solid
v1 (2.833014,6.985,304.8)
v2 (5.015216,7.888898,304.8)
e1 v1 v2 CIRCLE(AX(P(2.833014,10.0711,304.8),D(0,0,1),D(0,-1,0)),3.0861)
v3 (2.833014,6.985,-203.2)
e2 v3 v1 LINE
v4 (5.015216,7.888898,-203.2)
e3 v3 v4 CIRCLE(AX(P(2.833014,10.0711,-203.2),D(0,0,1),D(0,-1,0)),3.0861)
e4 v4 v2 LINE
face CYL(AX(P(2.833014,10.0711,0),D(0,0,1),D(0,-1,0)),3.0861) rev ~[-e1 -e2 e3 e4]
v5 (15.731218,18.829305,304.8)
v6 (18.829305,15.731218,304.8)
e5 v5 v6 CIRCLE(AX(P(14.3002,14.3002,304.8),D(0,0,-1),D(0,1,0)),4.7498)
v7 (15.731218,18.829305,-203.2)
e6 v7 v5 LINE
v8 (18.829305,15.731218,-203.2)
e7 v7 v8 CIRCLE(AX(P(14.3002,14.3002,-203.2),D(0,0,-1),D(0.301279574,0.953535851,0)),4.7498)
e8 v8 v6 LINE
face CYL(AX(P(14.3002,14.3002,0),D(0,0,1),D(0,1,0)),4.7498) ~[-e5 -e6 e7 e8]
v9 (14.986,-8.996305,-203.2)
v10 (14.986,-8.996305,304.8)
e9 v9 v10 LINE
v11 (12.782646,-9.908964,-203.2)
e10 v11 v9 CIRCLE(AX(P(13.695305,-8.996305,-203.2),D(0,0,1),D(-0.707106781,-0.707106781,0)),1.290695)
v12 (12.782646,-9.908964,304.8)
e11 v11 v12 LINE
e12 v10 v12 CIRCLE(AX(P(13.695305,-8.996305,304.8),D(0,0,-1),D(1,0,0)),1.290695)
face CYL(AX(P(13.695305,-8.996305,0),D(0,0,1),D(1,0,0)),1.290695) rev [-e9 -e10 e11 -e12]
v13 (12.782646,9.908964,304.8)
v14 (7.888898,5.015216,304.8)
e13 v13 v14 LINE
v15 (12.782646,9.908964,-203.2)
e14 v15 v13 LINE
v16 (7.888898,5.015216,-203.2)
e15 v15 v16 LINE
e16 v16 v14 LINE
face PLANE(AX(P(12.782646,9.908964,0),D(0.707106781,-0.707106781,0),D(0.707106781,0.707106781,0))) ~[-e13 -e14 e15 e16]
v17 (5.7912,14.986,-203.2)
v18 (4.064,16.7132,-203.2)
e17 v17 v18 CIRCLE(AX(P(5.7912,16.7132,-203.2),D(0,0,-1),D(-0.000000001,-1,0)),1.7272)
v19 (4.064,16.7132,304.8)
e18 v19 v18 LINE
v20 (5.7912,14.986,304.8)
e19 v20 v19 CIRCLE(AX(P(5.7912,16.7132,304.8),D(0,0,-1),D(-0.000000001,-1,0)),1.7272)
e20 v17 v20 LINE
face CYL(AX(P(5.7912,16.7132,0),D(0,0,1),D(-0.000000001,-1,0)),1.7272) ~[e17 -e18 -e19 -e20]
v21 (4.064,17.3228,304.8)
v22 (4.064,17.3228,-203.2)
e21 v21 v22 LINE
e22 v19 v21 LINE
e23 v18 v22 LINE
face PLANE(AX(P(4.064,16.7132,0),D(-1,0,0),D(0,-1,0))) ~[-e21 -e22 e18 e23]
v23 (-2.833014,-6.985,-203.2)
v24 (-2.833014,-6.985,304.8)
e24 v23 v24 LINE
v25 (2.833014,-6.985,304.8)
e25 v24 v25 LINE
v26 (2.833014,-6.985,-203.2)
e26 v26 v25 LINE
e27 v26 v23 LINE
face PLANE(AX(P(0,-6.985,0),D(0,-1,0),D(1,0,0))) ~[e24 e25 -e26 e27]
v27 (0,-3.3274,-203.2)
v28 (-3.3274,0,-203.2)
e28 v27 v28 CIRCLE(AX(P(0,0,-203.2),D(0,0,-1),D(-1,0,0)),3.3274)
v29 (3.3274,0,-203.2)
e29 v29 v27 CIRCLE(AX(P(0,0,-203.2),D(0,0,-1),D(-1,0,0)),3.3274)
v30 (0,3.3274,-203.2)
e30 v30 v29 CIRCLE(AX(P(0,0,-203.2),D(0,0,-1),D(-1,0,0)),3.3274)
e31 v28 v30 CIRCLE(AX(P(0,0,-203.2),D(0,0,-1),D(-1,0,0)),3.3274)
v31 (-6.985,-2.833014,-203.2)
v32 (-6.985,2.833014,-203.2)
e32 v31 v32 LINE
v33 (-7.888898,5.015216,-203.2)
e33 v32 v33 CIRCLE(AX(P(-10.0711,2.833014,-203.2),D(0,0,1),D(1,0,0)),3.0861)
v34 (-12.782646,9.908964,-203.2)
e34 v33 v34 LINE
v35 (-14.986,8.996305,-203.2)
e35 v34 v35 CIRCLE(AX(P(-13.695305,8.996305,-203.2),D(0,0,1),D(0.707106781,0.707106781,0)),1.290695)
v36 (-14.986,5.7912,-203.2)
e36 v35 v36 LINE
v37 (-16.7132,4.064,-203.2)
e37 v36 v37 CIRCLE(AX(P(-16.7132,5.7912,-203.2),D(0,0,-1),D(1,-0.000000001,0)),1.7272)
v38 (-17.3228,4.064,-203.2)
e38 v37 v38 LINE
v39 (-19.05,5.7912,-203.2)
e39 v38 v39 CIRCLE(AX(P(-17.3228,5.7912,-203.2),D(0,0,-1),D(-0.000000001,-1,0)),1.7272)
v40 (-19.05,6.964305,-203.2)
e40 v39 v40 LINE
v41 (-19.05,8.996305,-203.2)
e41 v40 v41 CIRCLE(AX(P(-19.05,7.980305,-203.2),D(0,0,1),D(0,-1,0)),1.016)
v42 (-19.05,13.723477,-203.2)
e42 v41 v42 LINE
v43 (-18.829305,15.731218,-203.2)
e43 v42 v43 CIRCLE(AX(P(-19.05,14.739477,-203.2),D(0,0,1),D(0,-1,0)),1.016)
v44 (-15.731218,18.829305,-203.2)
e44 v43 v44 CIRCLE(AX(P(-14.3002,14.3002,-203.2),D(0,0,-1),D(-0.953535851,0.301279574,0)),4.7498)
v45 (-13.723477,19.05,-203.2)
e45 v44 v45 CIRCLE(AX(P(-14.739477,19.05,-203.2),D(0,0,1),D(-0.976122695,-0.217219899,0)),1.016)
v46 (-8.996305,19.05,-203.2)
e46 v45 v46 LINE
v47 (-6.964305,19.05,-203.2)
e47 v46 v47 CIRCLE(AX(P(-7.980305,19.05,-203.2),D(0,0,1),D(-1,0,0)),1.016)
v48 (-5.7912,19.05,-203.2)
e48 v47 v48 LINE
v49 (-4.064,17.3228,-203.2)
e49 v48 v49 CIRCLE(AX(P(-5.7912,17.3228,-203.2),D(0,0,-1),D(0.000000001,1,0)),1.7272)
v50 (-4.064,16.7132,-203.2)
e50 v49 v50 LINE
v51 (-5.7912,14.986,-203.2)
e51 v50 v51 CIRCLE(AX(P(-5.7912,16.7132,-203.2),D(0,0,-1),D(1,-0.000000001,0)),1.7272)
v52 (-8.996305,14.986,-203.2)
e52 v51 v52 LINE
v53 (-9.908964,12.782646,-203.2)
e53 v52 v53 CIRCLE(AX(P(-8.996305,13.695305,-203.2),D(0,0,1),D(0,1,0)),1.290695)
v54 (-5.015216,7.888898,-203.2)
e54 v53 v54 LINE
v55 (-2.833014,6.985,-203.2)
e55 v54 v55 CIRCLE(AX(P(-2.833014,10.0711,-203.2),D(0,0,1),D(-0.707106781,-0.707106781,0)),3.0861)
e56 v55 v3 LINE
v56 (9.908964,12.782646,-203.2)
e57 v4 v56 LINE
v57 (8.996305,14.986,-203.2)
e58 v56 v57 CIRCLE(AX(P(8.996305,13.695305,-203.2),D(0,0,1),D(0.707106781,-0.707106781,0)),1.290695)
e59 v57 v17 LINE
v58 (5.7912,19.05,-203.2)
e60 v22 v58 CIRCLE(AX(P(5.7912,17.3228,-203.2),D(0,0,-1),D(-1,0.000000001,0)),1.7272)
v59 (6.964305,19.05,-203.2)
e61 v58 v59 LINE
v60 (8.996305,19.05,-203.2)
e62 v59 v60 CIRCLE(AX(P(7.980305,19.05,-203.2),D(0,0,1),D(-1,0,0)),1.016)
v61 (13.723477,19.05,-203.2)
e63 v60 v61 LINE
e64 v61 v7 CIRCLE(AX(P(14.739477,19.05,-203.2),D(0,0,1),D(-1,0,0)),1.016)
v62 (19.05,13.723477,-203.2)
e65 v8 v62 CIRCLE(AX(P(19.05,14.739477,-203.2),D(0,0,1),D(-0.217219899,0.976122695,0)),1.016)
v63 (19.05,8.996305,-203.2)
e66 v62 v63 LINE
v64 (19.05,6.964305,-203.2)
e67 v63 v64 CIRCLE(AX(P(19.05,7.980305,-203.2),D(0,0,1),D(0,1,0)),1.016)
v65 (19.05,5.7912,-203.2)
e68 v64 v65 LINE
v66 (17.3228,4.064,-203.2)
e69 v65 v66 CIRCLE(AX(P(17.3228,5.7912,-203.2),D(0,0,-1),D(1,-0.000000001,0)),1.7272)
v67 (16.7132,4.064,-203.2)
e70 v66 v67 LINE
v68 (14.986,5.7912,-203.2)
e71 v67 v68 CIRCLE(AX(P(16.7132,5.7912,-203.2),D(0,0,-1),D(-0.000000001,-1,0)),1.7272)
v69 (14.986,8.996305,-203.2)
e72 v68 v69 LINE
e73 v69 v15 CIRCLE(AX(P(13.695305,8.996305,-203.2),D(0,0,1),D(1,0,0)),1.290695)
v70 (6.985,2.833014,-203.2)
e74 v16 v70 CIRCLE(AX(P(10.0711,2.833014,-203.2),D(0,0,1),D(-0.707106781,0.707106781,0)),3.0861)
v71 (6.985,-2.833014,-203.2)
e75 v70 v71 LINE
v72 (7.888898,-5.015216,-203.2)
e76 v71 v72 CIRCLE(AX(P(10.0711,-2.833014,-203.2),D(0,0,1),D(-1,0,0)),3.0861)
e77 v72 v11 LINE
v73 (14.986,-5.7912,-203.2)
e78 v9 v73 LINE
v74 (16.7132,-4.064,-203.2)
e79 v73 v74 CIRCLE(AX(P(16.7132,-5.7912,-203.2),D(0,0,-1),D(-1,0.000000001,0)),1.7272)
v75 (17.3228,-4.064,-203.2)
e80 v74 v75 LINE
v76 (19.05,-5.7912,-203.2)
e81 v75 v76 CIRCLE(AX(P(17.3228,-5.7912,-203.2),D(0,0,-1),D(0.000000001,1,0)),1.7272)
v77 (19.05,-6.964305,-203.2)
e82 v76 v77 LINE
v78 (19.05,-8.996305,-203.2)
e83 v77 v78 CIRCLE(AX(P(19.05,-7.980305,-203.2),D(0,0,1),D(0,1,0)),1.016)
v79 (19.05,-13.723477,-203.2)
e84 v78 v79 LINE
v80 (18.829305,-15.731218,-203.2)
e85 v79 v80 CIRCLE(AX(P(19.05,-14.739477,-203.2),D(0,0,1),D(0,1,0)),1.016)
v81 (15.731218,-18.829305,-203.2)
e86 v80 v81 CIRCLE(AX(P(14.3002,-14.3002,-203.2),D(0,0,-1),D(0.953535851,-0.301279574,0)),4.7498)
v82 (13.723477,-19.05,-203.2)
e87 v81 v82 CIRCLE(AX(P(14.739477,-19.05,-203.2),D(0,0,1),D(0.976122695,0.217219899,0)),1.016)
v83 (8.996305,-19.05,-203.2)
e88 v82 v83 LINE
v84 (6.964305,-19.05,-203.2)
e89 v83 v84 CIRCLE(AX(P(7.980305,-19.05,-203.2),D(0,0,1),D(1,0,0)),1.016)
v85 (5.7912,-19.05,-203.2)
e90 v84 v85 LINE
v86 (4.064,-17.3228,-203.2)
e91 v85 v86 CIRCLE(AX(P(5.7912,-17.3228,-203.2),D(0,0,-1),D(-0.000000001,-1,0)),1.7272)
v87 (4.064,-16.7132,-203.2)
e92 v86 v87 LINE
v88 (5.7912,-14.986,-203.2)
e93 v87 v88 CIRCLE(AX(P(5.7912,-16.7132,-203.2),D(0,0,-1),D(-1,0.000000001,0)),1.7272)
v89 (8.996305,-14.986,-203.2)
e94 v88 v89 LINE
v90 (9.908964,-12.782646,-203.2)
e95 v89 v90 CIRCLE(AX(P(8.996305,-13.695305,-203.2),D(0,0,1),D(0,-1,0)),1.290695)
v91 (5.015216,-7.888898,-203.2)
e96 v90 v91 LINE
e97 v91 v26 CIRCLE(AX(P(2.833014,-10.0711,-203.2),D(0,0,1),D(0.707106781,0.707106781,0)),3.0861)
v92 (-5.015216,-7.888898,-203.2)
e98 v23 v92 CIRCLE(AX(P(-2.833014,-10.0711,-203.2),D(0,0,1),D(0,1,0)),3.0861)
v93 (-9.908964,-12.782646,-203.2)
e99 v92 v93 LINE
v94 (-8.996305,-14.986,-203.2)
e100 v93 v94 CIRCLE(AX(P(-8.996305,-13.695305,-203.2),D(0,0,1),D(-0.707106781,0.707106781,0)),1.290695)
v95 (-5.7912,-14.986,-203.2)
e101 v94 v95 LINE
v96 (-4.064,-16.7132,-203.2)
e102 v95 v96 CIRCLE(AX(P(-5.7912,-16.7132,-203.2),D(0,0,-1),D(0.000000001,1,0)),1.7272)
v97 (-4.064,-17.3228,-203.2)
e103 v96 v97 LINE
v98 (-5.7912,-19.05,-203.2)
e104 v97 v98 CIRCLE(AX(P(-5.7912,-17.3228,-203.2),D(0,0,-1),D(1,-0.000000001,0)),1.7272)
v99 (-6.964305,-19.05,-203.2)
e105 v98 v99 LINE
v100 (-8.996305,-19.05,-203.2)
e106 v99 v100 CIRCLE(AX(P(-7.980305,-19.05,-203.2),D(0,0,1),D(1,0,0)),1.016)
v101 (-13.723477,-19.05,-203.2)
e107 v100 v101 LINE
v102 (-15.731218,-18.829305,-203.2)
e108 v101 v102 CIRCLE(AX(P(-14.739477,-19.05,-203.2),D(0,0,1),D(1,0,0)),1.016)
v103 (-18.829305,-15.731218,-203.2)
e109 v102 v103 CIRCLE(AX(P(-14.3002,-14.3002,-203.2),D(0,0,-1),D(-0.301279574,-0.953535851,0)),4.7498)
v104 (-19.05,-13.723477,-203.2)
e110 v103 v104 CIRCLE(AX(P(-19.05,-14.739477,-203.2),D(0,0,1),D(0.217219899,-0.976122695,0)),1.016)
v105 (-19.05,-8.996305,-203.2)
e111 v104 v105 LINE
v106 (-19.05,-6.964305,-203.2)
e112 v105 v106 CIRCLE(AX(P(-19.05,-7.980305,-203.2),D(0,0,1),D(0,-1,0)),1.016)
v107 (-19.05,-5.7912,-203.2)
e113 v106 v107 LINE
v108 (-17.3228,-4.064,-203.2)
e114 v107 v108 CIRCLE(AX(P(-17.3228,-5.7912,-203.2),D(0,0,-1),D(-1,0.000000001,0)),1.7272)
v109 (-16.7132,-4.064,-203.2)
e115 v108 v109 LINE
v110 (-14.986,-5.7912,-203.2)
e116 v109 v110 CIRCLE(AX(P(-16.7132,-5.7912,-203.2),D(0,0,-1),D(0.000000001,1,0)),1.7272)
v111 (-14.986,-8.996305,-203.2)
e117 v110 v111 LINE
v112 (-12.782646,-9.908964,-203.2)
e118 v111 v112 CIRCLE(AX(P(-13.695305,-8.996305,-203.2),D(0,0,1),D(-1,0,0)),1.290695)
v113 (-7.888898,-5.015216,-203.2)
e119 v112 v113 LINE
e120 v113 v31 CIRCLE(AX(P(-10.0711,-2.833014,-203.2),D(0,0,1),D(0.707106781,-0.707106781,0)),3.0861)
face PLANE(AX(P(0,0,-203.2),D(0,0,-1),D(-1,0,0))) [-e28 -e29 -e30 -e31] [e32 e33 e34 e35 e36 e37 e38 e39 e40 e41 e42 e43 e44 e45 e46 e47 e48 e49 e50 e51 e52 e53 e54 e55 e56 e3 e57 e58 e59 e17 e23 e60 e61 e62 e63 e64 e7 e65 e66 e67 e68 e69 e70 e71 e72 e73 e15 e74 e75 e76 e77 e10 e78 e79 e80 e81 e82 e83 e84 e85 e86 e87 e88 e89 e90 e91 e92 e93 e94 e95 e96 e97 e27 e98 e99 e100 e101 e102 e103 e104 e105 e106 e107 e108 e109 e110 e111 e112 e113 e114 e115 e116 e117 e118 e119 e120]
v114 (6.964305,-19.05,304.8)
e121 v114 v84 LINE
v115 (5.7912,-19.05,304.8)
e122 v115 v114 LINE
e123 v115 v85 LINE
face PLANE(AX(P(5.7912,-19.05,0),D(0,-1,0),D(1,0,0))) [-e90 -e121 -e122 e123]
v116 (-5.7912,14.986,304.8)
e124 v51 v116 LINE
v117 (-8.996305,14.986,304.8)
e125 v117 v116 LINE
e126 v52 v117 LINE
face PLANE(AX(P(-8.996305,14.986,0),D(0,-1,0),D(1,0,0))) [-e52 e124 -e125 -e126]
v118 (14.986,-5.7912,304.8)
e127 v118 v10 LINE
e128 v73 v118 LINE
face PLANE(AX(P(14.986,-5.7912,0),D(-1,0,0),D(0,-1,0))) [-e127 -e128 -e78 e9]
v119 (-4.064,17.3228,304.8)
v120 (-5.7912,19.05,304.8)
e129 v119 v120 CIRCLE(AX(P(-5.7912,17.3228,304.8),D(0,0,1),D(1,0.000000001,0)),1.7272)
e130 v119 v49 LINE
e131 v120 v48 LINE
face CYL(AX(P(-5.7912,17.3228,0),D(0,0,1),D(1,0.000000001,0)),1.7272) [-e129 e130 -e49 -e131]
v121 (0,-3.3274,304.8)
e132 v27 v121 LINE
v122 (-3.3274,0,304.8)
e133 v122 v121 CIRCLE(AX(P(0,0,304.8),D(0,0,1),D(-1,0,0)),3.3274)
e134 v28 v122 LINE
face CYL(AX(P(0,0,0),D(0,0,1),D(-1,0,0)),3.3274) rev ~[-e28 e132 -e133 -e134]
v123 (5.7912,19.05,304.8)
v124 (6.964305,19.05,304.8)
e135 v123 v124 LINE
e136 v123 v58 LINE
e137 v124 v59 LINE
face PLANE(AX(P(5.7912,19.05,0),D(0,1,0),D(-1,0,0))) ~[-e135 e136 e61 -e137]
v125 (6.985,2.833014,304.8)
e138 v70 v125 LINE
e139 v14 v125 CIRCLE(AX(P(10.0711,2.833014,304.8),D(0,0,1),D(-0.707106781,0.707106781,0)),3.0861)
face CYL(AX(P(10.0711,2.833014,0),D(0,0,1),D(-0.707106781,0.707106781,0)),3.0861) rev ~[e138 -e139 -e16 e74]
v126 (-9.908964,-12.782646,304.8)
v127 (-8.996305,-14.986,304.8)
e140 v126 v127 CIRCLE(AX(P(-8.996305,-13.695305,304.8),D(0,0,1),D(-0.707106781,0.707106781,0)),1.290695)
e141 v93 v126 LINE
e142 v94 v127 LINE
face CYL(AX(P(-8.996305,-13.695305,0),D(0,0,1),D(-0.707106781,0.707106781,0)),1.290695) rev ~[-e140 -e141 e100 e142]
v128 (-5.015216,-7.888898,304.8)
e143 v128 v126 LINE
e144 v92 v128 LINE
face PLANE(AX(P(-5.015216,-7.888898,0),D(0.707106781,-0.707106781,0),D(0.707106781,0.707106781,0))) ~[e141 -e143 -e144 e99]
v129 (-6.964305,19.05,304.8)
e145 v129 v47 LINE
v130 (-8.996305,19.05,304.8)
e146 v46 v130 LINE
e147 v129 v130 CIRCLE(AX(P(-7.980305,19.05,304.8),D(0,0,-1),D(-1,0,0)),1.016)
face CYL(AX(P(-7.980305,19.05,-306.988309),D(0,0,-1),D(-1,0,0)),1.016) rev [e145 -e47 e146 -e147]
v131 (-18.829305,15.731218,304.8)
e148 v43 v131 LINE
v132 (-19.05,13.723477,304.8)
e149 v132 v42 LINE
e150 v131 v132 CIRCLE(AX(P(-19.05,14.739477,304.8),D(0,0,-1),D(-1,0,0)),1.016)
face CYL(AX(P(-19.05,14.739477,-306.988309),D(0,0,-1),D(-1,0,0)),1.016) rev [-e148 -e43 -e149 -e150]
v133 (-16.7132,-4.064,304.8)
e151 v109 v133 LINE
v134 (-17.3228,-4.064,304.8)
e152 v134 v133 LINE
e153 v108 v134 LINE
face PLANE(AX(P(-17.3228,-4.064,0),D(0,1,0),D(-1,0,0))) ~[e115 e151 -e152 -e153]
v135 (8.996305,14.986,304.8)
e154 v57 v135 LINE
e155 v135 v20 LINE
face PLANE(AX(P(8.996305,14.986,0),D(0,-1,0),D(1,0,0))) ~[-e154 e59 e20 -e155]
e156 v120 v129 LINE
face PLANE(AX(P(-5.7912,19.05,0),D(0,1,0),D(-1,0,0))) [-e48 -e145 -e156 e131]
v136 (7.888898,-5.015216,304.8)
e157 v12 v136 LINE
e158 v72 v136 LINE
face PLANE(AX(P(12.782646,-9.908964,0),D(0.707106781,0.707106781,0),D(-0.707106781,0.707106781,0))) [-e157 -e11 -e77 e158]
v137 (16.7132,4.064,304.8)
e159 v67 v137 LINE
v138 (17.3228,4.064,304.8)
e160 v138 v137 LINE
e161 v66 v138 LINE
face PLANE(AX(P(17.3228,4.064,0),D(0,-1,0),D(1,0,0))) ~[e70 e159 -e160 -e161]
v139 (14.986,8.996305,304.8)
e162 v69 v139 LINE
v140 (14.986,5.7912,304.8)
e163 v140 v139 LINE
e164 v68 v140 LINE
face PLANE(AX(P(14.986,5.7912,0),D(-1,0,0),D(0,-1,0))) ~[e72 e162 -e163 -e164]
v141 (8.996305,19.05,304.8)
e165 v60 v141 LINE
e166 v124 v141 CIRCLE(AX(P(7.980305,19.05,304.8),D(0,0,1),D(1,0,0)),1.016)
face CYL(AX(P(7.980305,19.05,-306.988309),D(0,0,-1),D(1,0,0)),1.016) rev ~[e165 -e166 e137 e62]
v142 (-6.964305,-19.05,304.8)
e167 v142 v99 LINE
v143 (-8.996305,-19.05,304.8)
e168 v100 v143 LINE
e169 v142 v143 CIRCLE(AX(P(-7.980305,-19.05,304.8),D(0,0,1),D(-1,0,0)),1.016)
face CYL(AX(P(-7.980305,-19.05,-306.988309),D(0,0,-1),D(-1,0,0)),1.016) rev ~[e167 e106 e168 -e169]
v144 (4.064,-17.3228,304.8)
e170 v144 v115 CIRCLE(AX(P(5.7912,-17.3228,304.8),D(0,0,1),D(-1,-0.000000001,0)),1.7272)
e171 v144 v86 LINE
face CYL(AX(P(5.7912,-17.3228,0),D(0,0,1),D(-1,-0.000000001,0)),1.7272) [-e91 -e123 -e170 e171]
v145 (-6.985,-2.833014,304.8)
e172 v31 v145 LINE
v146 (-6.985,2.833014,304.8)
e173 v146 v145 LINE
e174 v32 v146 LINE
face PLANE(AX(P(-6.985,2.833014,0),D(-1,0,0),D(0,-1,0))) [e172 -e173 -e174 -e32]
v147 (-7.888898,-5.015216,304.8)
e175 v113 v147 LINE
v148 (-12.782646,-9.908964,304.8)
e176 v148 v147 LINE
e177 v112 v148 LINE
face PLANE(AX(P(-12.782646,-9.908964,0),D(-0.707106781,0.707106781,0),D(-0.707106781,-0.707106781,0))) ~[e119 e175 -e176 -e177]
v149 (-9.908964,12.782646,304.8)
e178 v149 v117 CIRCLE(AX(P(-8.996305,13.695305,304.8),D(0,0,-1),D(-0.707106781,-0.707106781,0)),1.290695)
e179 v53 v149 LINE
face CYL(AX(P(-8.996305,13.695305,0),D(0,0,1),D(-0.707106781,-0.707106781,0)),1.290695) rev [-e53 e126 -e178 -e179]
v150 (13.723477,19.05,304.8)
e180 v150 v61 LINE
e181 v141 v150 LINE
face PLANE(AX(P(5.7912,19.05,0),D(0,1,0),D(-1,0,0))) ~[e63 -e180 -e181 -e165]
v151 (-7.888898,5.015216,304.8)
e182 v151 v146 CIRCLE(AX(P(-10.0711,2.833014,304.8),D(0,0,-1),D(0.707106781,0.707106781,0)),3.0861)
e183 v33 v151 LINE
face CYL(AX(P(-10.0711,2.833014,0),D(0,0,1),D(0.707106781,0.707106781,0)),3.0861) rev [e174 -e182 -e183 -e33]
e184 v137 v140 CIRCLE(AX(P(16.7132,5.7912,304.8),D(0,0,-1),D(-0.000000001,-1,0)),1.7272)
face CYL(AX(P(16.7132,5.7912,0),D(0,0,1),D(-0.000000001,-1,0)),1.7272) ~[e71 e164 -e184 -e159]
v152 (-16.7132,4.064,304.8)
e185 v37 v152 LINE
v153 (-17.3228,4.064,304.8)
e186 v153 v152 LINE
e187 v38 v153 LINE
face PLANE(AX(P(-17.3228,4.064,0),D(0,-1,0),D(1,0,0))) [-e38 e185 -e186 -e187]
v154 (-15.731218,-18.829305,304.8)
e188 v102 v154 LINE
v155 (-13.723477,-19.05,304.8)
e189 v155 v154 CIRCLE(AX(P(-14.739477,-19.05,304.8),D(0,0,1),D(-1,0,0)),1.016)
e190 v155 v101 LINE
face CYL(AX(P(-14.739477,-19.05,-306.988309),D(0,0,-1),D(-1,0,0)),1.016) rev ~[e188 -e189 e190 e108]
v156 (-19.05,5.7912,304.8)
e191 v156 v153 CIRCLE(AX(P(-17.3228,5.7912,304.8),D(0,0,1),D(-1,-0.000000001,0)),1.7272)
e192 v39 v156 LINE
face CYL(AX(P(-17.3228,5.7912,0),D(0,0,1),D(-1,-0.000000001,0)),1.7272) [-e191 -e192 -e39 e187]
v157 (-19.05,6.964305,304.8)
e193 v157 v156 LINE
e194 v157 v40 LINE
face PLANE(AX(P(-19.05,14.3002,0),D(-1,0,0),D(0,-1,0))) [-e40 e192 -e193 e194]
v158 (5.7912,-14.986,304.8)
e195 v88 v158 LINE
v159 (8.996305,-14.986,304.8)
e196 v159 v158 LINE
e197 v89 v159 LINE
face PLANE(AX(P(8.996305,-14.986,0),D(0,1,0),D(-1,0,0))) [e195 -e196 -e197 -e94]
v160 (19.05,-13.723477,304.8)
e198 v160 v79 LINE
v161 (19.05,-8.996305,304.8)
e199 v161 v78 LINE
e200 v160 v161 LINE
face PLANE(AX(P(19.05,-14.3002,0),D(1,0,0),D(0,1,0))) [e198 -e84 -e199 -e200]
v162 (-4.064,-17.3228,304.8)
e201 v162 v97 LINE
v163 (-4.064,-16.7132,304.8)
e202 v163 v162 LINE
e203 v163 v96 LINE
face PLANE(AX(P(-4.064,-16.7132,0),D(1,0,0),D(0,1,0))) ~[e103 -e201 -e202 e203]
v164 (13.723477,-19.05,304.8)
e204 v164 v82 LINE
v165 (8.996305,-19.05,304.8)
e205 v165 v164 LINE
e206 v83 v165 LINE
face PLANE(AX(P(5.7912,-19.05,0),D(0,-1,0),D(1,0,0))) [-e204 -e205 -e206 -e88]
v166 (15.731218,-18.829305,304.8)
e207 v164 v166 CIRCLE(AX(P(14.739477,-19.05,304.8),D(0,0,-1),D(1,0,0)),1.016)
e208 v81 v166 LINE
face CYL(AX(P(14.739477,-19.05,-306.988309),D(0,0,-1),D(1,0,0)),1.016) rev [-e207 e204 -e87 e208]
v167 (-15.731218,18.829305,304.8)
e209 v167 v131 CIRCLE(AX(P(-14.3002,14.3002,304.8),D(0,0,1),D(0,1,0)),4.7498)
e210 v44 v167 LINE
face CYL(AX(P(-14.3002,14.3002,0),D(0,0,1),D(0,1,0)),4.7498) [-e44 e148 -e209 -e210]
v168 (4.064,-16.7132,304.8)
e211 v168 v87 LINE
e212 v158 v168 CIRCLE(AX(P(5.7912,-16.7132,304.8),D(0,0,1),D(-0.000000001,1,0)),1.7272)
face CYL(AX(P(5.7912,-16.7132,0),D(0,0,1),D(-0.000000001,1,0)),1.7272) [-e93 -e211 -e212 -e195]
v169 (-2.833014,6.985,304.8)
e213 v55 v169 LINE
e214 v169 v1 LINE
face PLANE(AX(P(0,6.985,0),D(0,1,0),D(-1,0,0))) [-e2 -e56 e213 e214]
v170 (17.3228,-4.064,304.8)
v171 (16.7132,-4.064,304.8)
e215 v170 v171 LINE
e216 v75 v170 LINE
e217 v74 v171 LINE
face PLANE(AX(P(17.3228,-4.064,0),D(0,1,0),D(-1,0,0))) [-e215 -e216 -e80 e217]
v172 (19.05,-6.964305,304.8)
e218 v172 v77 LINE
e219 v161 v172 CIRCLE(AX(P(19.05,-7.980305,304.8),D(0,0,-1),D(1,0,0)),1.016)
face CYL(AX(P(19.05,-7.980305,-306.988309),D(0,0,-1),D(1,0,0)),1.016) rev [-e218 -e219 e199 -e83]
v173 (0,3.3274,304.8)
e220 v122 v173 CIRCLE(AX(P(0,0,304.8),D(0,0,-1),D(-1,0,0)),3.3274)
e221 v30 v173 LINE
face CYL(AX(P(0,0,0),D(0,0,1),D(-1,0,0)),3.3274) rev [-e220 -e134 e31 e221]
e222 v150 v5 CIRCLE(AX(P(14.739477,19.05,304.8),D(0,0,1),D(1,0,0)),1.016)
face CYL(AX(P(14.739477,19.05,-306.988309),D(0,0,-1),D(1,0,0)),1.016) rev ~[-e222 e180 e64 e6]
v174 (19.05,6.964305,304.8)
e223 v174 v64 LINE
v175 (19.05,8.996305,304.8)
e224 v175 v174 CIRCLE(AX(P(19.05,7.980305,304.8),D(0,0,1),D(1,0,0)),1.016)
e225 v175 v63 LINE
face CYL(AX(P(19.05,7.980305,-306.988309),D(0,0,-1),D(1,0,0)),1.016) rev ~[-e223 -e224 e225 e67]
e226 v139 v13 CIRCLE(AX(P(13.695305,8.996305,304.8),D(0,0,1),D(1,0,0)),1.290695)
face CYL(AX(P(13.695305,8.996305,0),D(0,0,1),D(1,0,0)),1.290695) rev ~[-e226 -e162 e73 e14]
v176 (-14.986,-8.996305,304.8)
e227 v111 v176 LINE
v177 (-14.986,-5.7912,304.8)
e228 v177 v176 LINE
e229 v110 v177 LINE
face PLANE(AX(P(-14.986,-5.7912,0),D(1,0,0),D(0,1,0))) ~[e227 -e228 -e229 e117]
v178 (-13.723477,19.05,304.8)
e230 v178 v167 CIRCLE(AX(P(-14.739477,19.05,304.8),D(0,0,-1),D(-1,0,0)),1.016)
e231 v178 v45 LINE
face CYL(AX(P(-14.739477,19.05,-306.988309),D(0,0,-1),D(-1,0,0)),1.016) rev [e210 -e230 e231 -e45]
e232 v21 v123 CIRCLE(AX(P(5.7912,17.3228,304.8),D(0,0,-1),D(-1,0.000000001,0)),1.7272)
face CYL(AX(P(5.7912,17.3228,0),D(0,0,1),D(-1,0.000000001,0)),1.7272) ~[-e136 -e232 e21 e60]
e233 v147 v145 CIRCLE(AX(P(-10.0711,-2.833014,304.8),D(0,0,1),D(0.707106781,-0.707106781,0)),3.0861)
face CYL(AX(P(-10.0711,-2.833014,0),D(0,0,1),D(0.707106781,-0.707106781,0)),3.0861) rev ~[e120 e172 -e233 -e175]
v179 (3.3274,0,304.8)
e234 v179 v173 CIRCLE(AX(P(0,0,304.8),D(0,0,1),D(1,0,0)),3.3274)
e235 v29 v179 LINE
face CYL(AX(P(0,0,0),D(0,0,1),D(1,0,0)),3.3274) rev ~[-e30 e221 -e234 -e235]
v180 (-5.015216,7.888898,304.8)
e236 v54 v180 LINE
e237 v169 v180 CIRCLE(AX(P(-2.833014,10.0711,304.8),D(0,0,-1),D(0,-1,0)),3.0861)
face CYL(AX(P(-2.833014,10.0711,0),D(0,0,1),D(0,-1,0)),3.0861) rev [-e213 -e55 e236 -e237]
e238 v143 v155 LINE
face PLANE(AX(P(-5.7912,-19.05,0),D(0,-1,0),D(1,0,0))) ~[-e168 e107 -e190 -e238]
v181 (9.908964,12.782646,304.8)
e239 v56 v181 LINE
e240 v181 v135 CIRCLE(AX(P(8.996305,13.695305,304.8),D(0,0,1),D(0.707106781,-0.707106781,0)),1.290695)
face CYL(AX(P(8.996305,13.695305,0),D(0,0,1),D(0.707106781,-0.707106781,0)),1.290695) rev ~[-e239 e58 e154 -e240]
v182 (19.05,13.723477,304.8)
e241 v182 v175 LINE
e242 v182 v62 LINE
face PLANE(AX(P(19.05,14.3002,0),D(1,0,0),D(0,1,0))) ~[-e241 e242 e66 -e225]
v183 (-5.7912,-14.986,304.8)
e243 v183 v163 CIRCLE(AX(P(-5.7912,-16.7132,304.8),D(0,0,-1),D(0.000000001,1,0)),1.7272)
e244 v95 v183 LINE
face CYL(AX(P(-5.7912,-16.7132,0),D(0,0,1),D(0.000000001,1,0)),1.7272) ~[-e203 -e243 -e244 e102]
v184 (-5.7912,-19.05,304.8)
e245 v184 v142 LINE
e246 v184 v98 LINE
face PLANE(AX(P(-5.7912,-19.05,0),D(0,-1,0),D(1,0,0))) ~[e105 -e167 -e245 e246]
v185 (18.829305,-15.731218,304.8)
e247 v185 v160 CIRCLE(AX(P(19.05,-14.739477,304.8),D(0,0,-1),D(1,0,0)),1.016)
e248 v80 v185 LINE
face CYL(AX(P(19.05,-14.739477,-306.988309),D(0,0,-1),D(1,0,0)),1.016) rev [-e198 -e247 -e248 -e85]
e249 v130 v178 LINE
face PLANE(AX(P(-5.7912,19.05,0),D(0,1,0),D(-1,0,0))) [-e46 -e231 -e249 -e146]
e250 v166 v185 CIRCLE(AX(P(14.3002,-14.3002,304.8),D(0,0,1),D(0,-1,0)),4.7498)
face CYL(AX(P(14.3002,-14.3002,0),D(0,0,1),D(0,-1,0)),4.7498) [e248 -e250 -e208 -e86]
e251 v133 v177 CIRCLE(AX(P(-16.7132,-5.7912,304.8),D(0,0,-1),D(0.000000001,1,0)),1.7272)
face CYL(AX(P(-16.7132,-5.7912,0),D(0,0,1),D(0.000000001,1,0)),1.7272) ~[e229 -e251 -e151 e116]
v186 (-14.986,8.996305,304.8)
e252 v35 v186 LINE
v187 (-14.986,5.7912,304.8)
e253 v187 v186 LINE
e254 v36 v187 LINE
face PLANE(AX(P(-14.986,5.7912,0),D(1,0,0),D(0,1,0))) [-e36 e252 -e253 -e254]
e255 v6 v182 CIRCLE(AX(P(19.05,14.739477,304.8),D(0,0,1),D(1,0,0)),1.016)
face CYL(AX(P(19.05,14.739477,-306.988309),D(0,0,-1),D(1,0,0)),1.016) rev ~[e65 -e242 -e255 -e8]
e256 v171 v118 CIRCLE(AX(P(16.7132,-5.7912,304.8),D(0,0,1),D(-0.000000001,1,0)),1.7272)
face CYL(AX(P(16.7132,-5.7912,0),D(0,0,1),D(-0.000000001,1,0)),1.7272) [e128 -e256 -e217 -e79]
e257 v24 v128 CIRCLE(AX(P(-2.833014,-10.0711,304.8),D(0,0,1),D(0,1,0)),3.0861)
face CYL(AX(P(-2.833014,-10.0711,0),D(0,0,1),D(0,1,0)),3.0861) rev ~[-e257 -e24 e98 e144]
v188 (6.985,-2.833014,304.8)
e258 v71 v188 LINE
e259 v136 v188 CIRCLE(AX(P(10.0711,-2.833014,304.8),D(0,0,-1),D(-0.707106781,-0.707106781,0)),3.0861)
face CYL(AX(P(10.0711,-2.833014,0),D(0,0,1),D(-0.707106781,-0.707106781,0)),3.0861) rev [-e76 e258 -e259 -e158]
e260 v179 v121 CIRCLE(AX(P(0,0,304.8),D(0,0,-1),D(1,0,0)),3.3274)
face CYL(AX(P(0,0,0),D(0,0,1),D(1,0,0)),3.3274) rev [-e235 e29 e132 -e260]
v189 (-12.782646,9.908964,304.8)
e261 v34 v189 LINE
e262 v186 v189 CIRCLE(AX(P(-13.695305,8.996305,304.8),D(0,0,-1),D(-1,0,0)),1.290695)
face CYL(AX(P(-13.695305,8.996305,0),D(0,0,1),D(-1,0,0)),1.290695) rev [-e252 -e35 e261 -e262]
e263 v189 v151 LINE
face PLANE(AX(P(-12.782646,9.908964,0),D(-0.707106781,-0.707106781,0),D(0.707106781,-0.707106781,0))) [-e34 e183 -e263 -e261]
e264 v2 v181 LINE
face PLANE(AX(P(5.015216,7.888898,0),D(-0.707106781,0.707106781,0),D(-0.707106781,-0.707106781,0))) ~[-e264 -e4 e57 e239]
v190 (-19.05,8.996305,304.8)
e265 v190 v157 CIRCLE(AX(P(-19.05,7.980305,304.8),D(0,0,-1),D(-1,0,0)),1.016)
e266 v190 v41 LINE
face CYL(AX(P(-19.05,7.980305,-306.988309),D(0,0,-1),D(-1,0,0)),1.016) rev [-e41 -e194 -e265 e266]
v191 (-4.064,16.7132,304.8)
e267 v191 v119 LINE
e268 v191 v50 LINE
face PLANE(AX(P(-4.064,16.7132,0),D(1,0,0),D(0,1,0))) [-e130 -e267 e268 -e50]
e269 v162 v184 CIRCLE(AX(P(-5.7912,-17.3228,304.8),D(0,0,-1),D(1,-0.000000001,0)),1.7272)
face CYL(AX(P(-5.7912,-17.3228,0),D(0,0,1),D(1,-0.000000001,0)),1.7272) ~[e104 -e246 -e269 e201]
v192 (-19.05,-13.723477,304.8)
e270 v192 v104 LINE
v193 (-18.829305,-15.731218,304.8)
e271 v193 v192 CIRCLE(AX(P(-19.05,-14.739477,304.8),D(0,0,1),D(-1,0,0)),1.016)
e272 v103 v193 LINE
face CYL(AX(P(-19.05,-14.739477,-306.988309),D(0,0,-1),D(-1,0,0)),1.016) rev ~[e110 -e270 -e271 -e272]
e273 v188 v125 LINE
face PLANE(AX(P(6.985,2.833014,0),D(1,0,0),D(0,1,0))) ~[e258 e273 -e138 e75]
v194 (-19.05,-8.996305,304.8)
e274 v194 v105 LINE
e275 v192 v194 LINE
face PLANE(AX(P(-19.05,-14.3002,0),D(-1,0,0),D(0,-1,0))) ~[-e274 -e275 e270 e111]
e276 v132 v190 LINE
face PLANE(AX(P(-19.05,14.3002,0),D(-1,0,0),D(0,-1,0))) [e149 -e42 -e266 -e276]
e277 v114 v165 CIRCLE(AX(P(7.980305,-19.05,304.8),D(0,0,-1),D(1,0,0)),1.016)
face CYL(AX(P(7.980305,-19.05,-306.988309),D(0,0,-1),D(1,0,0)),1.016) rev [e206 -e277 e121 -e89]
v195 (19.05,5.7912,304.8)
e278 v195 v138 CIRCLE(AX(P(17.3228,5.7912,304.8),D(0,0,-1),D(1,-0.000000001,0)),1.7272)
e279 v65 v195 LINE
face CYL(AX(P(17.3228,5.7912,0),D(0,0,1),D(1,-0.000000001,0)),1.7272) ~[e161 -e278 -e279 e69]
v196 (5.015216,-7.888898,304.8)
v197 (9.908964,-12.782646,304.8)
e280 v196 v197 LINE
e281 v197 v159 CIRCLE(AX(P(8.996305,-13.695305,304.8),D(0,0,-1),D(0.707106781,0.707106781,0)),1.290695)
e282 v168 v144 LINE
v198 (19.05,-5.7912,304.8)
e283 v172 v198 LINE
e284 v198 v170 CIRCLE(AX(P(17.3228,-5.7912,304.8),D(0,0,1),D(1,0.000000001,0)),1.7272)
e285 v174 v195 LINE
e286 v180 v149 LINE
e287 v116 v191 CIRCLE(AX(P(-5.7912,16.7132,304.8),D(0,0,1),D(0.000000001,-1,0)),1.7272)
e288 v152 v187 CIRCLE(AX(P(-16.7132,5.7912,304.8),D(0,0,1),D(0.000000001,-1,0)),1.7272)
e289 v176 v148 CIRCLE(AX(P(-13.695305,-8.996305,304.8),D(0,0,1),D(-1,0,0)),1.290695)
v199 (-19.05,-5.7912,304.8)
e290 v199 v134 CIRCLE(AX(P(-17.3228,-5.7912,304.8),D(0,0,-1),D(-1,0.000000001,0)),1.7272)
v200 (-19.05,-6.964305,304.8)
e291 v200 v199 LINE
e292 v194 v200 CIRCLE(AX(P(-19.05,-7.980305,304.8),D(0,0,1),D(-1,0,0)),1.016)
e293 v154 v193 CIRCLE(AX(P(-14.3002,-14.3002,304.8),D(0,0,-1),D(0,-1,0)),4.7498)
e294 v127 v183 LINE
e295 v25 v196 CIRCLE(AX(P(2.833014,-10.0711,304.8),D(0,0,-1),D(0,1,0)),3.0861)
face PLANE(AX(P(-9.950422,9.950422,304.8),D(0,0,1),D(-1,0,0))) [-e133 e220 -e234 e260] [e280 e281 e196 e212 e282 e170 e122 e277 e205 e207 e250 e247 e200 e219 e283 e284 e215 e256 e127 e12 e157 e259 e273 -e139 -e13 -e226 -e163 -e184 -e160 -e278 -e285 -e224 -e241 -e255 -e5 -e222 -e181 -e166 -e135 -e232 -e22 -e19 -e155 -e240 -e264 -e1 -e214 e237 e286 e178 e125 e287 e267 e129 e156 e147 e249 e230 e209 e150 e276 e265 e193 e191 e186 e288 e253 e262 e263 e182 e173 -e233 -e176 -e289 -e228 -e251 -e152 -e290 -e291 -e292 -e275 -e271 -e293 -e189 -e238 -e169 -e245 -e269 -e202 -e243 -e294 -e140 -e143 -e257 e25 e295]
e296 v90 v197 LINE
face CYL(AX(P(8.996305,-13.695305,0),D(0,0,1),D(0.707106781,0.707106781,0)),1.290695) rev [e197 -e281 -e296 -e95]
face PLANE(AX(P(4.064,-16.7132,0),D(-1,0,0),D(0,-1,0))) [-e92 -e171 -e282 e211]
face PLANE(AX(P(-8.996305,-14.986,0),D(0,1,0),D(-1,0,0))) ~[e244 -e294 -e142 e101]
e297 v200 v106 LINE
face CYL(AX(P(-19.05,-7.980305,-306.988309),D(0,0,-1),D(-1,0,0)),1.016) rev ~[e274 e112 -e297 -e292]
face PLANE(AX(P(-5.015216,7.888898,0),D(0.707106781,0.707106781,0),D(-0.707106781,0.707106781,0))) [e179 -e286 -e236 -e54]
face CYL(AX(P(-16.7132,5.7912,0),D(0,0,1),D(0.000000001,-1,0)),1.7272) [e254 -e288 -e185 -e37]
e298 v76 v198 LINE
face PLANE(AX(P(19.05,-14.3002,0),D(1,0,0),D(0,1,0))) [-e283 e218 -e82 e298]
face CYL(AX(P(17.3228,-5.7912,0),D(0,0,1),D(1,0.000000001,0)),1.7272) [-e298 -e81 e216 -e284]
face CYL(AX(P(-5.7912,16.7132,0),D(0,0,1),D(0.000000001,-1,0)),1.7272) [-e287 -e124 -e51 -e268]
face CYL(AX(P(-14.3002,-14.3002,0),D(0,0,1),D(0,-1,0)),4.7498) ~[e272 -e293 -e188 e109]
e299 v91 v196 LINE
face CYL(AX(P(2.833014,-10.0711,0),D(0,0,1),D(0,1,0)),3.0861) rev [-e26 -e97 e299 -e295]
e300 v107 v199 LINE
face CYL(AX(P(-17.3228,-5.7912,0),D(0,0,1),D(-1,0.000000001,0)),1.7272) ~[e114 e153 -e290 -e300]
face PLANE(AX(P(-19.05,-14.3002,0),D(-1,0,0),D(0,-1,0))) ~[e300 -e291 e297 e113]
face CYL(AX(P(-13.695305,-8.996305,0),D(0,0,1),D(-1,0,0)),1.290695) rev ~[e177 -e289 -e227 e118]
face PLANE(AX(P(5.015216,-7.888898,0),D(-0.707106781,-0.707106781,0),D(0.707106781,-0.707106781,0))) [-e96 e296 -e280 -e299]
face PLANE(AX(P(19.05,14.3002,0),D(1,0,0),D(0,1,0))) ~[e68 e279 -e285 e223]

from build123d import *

# Parameters (mm, degrees)
BOSS_EXTRUDE1_DEPTH     = 304.8
CUT_EXTRUDE1_DEPTH      = 306.9883086
CUT_EXTRUDE1_DEPTH_BACK = 306.9883086
SKETCH5_R               = 1.016
CUT_EXTRUDE2_START      = -101.6
SKETCH6_R               = 3.3274
CUT_EXTRUDE2_DEPTH      = 101.6


with BuildPart() as part:
    # Sketch4 → Boss-Extrude1 (new, symmetric)
    with BuildSketch(Plane.XY):
        with BuildLine():
            Line((5.7912, -19.05), (14.3002, -19.05))
            ThreePointArc((14.3002, -19.05), (17.658815789, -17.658815789), (19.05, -14.3002))
            Line((19.05, -14.3002), (19.05, -5.7912))
            ThreePointArc((19.05, -5.7912), (18.544114832, -4.569885168), (17.3228, -4.064))
            Line((17.3228, -4.064), (16.7132, -4.064))
            ThreePointArc((16.7132, -4.064), (15.491885168, -4.569885168), (14.986, -5.7912))
            Line((14.986, -5.7912), (14.986, -8.996305235))
            ThreePointArc((14.986, -8.996305235), (14.189232738, -10.188751711), (12.782646215, -9.908964256))
            Line((12.782646215, -9.908964256), (7.888897763, -5.015215804))
            ThreePointArc((7.888897763, -5.015215804), (7.219915375, -4.014012907), (6.985, -2.833013566))
            Line((6.985, -2.833013566), (6.985, 0))
            Line((6.985, 0), (3.3274, 0))
            ThreePointArc((3.3274, 0), (2.352827104, -2.352827104), (0, -3.3274))
            Line((0, -3.3274), (0, -6.985))
            Line((0, -6.985), (2.833013566, -6.985))
            ThreePointArc((2.833013566, -6.985), (4.014012907, -7.219915375), (5.015215804, -7.888897763))
            Line((5.015215804, -7.888897763), (9.908964256, -12.782646215))
            ThreePointArc((9.908964256, -12.782646215), (10.188751711, -14.189232738), (8.996305235, -14.986))
            Line((8.996305235, -14.986), (5.7912, -14.986))
            ThreePointArc((5.7912, -14.986), (4.569885168, -15.491885168), (4.064, -16.7132))
            Line((4.064, -16.7132), (4.064, -17.3228))
            ThreePointArc((4.064, -17.3228), (4.569885168, -18.544114832), (5.7912, -19.05))
        make_face()
    extrude(amount=BOSS_EXTRUDE1_DEPTH, both=True)

    # Sketch5 → Cut-Extrude1 (cut, two sides: drawn at the far end of the back side and taken through both)
    with BuildSketch(Plane.XY.offset(-CUT_EXTRUDE1_DEPTH_BACK)):
        with Locations((14.739477062, -19.05)):
            Circle(SKETCH5_R)
        with Locations((7.980305235, -19.05)):
            Circle(SKETCH5_R)
        with Locations((19.05, -14.739477062)):
            Circle(SKETCH5_R)
        with Locations((19.05, -7.980305235)):
            Circle(SKETCH5_R)
    extrude(amount=CUT_EXTRUDE1_DEPTH + CUT_EXTRUDE1_DEPTH_BACK, mode=Mode.SUBTRACT)

    # Mirror1: part across plane


with BuildPart() as part_1:
    add(part.part)
    add(part.part.mirror(Plane(origin=(0, 0, 0), x_dir=(0, 0, 1), z_dir=(1, 0, 0))))

    # Mirror2: part across plane


with BuildPart() as part_2:
    add(part_1.part)
    add(part_1.part.mirror(Plane.ZX))

    # Sketch6 → Cut-Extrude2 (cut)
    with BuildSketch(Plane(origin=(0, 0, -304.8), x_dir=(-1, 0, 0), z_dir=(0, 0, -1)).offset(CUT_EXTRUDE2_START)):
        with BuildLine():
            Line((-19.05, -5.7912), (-19.05, -6.964305235))
            ThreePointArc((-19.05, -6.964305235), (-18.034, -7.980305235), (-19.05, -8.996305235))
            Line((-19.05, -8.996305235), (-19.05, -13.723477062))
            ThreePointArc((-19.05, -13.723477062), (-18.040083046, -14.628464695), (-18.829304583, -15.73121772))
            ThreePointArc((-18.829304583, -15.73121772), (-17.658815789, -17.658815789), (-15.73121772, -18.829304583))
            ThreePointArc((-15.73121772, -18.829304583), (-14.628464695, -18.040083046), (-13.723477062, -19.05))
            Line((-13.723477062, -19.05), (-8.996305235, -19.05))
            ThreePointArc((-8.996305235, -19.05), (-7.980305235, -18.034), (-6.964305235, -19.05))
            Line((-6.964305235, -19.05), (-5.7912, -19.05))
            ThreePointArc((-5.7912, -19.05), (-4.569885168, -18.544114832), (-4.064, -17.3228))
            Line((-4.064, -17.3228), (-4.064, -16.7132))
            ThreePointArc((-4.064, -16.7132), (-4.569885168, -15.491885168), (-5.7912, -14.986))
            Line((-5.7912, -14.986), (-8.996305235, -14.986))
            ThreePointArc((-8.996305235, -14.986), (-10.188751711, -14.189232738), (-9.908964256, -12.782646215))
            Line((-9.908964256, -12.782646215), (-5.015215804, -7.888897763))
            ThreePointArc((-5.015215804, -7.888897763), (-4.014012907, -7.219915375), (-2.833013566, -6.985))
            Line((-2.833013566, -6.985), (2.833013566, -6.985))
            ThreePointArc((2.833013566, -6.985), (4.014012907, -7.219915375), (5.015215804, -7.888897763))
            Line((5.015215804, -7.888897763), (9.908964256, -12.782646215))
            ThreePointArc((9.908964256, -12.782646215), (10.188751711, -14.189232738), (8.996305235, -14.986))
            Line((8.996305235, -14.986), (5.7912, -14.986))
            ThreePointArc((5.7912, -14.986), (4.569885168, -15.491885168), (4.064, -16.7132))
            Line((4.064, -16.7132), (4.064, -17.3228))
            ThreePointArc((4.064, -17.3228), (4.569885168, -18.544114832), (5.7912, -19.05))
            Line((5.7912, -19.05), (6.964305235, -19.05))
            ThreePointArc((6.964305235, -19.05), (7.980305235, -18.034), (8.996305235, -19.05))
            Line((8.996305235, -19.05), (13.723477062, -19.05))
            ThreePointArc((13.723477062, -19.05), (14.628464695, -18.040083046), (15.73121772, -18.829304583))
            ThreePointArc((15.73121772, -18.829304583), (17.658815789, -17.658815789), (18.829304583, -15.73121772))
            ThreePointArc((18.829304583, -15.73121772), (18.040083046, -14.628464695), (19.05, -13.723477062))
            Line((19.05, -13.723477062), (19.05, -8.996305235))
            ThreePointArc((19.05, -8.996305235), (18.034, -7.980305235), (19.05, -6.964305235))
            Line((19.05, -6.964305235), (19.05, -5.7912))
            ThreePointArc((19.05, -5.7912), (18.544114832, -4.569885168), (17.3228, -4.064))
            Line((17.3228, -4.064), (16.7132, -4.064))
            ThreePointArc((16.7132, -4.064), (15.491885168, -4.569885168), (14.986, -5.7912))
            Line((14.986, -5.7912), (14.986, -8.996305235))
            ThreePointArc((14.986, -8.996305235), (14.189232738, -10.188751711), (12.782646215, -9.908964256))
            Line((12.782646215, -9.908964256), (7.888897763, -5.015215804))
            ThreePointArc((7.888897763, -5.015215804), (7.219915375, -4.014012907), (6.985, -2.833013566))
            Line((6.985, -2.833013566), (6.985, 2.833013566))
            ThreePointArc((6.985, 2.833013566), (7.219915375, 4.014012907), (7.888897763, 5.015215804))
            Line((7.888897763, 5.015215804), (12.782646215, 9.908964256))
            ThreePointArc((12.782646215, 9.908964256), (14.189232738, 10.188751711), (14.986, 8.996305235))
            Line((14.986, 8.996305235), (14.986, 5.7912))
            ThreePointArc((14.986, 5.7912), (15.491885168, 4.569885168), (16.7132, 4.064))
            Line((16.7132, 4.064), (17.3228, 4.064))
            ThreePointArc((17.3228, 4.064), (18.544114832, 4.569885168), (19.05, 5.7912))
            Line((19.05, 5.7912), (19.05, 6.964305235))
            ThreePointArc((19.05, 6.964305235), (18.034, 7.980305235), (19.05, 8.996305235))
            Line((19.05, 8.996305235), (19.05, 13.723477062))
            ThreePointArc((19.05, 13.723477062), (18.040083046, 14.628464695), (18.829304583, 15.73121772))
            ThreePointArc((18.829304583, 15.73121772), (17.658815789, 17.658815789), (15.73121772, 18.829304583))
            ThreePointArc((15.73121772, 18.829304583), (14.628464695, 18.040083046), (13.723477062, 19.05))
            Line((13.723477062, 19.05), (8.996305235, 19.05))
            ThreePointArc((8.996305235, 19.05), (7.980305235, 18.034), (6.964305235, 19.05))
            Line((6.964305235, 19.05), (5.7912, 19.05))
            ThreePointArc((5.7912, 19.05), (4.569885168, 18.544114832), (4.064, 17.3228))
            Line((4.064, 17.3228), (4.064, 16.7132))
            ThreePointArc((4.064, 16.7132), (4.569885168, 15.491885168), (5.7912, 14.986))
            Line((5.7912, 14.986), (8.996305235, 14.986))
            ThreePointArc((8.996305235, 14.986), (10.188751711, 14.189232738), (9.908964256, 12.782646215))
            Line((9.908964256, 12.782646215), (5.015215804, 7.888897763))
            ThreePointArc((5.015215804, 7.888897763), (4.014012907, 7.219915375), (2.833013566, 6.985))
            Line((2.833013566, 6.985), (-2.833013566, 6.985))
            ThreePointArc((-2.833013566, 6.985), (-4.014012907, 7.219915375), (-5.015215804, 7.888897763))
            Line((-5.015215804, 7.888897763), (-9.908964256, 12.782646215))
            ThreePointArc((-9.908964256, 12.782646215), (-10.188751711, 14.189232738), (-8.996305235, 14.986))
            Line((-8.996305235, 14.986), (-5.7912, 14.986))
            ThreePointArc((-5.7912, 14.986), (-4.569885168, 15.491885168), (-4.064, 16.7132))
            Line((-4.064, 16.7132), (-4.064, 17.3228))
            ThreePointArc((-4.064, 17.3228), (-4.569885168, 18.544114832), (-5.7912, 19.05))
            Line((-5.7912, 19.05), (-6.964305235, 19.05))
            ThreePointArc((-6.964305235, 19.05), (-7.980305235, 18.034), (-8.996305235, 19.05))
            Line((-8.996305235, 19.05), (-13.723477062, 19.05))
            ThreePointArc((-13.723477062, 19.05), (-14.628464695, 18.040083046), (-15.73121772, 18.829304583))
            ThreePointArc((-15.73121772, 18.829304583), (-17.658815789, 17.658815789), (-18.829304583, 15.73121772))
            ThreePointArc((-18.829304583, 15.73121772), (-18.040083046, 14.628464695), (-19.05, 13.723477062))
            Line((-19.05, 13.723477062), (-19.05, 8.996305235))
            ThreePointArc((-19.05, 8.996305235), (-18.034, 7.980305235), (-19.05, 6.964305235))
            Line((-19.05, 6.964305235), (-19.05, 5.7912))
            ThreePointArc((-19.05, 5.7912), (-18.544114832, 4.569885168), (-17.3228, 4.064))
            Line((-17.3228, 4.064), (-16.7132, 4.064))
            ThreePointArc((-16.7132, 4.064), (-15.491885168, 4.569885168), (-14.986, 5.7912))
            Line((-14.986, 5.7912), (-14.986, 8.996305235))
            ThreePointArc((-14.986, 8.996305235), (-14.189232738, 10.188751711), (-12.782646215, 9.908964256))
            Line((-12.782646215, 9.908964256), (-7.888897763, 5.015215804))
            ThreePointArc((-7.888897763, 5.015215804), (-7.219915375, 4.014012907), (-6.985, 2.833013566))
            Line((-6.985, 2.833013566), (-6.985, -2.833013566))
            ThreePointArc((-6.985, -2.833013566), (-7.219915375, -4.014012907), (-7.888897763, -5.015215804))
            Line((-7.888897763, -5.015215804), (-12.782646215, -9.908964256))
            ThreePointArc((-12.782646215, -9.908964256), (-14.189232738, -10.188751711), (-14.986, -8.996305235))
            Line((-14.986, -8.996305235), (-14.986, -5.7912))
            ThreePointArc((-14.986, -5.7912), (-15.491885168, -4.569885168), (-16.7132, -4.064))
            Line((-16.7132, -4.064), (-17.3228, -4.064))
            ThreePointArc((-17.3228, -4.064), (-18.544114832, -4.569885168), (-19.05, -5.7912))
        make_face()
        Circle(SKETCH6_R, mode=Mode.SUBTRACT)
    extrude(amount=CUT_EXTRUDE2_DEPTH, mode=Mode.SUBTRACT)


solid = part_2.part
